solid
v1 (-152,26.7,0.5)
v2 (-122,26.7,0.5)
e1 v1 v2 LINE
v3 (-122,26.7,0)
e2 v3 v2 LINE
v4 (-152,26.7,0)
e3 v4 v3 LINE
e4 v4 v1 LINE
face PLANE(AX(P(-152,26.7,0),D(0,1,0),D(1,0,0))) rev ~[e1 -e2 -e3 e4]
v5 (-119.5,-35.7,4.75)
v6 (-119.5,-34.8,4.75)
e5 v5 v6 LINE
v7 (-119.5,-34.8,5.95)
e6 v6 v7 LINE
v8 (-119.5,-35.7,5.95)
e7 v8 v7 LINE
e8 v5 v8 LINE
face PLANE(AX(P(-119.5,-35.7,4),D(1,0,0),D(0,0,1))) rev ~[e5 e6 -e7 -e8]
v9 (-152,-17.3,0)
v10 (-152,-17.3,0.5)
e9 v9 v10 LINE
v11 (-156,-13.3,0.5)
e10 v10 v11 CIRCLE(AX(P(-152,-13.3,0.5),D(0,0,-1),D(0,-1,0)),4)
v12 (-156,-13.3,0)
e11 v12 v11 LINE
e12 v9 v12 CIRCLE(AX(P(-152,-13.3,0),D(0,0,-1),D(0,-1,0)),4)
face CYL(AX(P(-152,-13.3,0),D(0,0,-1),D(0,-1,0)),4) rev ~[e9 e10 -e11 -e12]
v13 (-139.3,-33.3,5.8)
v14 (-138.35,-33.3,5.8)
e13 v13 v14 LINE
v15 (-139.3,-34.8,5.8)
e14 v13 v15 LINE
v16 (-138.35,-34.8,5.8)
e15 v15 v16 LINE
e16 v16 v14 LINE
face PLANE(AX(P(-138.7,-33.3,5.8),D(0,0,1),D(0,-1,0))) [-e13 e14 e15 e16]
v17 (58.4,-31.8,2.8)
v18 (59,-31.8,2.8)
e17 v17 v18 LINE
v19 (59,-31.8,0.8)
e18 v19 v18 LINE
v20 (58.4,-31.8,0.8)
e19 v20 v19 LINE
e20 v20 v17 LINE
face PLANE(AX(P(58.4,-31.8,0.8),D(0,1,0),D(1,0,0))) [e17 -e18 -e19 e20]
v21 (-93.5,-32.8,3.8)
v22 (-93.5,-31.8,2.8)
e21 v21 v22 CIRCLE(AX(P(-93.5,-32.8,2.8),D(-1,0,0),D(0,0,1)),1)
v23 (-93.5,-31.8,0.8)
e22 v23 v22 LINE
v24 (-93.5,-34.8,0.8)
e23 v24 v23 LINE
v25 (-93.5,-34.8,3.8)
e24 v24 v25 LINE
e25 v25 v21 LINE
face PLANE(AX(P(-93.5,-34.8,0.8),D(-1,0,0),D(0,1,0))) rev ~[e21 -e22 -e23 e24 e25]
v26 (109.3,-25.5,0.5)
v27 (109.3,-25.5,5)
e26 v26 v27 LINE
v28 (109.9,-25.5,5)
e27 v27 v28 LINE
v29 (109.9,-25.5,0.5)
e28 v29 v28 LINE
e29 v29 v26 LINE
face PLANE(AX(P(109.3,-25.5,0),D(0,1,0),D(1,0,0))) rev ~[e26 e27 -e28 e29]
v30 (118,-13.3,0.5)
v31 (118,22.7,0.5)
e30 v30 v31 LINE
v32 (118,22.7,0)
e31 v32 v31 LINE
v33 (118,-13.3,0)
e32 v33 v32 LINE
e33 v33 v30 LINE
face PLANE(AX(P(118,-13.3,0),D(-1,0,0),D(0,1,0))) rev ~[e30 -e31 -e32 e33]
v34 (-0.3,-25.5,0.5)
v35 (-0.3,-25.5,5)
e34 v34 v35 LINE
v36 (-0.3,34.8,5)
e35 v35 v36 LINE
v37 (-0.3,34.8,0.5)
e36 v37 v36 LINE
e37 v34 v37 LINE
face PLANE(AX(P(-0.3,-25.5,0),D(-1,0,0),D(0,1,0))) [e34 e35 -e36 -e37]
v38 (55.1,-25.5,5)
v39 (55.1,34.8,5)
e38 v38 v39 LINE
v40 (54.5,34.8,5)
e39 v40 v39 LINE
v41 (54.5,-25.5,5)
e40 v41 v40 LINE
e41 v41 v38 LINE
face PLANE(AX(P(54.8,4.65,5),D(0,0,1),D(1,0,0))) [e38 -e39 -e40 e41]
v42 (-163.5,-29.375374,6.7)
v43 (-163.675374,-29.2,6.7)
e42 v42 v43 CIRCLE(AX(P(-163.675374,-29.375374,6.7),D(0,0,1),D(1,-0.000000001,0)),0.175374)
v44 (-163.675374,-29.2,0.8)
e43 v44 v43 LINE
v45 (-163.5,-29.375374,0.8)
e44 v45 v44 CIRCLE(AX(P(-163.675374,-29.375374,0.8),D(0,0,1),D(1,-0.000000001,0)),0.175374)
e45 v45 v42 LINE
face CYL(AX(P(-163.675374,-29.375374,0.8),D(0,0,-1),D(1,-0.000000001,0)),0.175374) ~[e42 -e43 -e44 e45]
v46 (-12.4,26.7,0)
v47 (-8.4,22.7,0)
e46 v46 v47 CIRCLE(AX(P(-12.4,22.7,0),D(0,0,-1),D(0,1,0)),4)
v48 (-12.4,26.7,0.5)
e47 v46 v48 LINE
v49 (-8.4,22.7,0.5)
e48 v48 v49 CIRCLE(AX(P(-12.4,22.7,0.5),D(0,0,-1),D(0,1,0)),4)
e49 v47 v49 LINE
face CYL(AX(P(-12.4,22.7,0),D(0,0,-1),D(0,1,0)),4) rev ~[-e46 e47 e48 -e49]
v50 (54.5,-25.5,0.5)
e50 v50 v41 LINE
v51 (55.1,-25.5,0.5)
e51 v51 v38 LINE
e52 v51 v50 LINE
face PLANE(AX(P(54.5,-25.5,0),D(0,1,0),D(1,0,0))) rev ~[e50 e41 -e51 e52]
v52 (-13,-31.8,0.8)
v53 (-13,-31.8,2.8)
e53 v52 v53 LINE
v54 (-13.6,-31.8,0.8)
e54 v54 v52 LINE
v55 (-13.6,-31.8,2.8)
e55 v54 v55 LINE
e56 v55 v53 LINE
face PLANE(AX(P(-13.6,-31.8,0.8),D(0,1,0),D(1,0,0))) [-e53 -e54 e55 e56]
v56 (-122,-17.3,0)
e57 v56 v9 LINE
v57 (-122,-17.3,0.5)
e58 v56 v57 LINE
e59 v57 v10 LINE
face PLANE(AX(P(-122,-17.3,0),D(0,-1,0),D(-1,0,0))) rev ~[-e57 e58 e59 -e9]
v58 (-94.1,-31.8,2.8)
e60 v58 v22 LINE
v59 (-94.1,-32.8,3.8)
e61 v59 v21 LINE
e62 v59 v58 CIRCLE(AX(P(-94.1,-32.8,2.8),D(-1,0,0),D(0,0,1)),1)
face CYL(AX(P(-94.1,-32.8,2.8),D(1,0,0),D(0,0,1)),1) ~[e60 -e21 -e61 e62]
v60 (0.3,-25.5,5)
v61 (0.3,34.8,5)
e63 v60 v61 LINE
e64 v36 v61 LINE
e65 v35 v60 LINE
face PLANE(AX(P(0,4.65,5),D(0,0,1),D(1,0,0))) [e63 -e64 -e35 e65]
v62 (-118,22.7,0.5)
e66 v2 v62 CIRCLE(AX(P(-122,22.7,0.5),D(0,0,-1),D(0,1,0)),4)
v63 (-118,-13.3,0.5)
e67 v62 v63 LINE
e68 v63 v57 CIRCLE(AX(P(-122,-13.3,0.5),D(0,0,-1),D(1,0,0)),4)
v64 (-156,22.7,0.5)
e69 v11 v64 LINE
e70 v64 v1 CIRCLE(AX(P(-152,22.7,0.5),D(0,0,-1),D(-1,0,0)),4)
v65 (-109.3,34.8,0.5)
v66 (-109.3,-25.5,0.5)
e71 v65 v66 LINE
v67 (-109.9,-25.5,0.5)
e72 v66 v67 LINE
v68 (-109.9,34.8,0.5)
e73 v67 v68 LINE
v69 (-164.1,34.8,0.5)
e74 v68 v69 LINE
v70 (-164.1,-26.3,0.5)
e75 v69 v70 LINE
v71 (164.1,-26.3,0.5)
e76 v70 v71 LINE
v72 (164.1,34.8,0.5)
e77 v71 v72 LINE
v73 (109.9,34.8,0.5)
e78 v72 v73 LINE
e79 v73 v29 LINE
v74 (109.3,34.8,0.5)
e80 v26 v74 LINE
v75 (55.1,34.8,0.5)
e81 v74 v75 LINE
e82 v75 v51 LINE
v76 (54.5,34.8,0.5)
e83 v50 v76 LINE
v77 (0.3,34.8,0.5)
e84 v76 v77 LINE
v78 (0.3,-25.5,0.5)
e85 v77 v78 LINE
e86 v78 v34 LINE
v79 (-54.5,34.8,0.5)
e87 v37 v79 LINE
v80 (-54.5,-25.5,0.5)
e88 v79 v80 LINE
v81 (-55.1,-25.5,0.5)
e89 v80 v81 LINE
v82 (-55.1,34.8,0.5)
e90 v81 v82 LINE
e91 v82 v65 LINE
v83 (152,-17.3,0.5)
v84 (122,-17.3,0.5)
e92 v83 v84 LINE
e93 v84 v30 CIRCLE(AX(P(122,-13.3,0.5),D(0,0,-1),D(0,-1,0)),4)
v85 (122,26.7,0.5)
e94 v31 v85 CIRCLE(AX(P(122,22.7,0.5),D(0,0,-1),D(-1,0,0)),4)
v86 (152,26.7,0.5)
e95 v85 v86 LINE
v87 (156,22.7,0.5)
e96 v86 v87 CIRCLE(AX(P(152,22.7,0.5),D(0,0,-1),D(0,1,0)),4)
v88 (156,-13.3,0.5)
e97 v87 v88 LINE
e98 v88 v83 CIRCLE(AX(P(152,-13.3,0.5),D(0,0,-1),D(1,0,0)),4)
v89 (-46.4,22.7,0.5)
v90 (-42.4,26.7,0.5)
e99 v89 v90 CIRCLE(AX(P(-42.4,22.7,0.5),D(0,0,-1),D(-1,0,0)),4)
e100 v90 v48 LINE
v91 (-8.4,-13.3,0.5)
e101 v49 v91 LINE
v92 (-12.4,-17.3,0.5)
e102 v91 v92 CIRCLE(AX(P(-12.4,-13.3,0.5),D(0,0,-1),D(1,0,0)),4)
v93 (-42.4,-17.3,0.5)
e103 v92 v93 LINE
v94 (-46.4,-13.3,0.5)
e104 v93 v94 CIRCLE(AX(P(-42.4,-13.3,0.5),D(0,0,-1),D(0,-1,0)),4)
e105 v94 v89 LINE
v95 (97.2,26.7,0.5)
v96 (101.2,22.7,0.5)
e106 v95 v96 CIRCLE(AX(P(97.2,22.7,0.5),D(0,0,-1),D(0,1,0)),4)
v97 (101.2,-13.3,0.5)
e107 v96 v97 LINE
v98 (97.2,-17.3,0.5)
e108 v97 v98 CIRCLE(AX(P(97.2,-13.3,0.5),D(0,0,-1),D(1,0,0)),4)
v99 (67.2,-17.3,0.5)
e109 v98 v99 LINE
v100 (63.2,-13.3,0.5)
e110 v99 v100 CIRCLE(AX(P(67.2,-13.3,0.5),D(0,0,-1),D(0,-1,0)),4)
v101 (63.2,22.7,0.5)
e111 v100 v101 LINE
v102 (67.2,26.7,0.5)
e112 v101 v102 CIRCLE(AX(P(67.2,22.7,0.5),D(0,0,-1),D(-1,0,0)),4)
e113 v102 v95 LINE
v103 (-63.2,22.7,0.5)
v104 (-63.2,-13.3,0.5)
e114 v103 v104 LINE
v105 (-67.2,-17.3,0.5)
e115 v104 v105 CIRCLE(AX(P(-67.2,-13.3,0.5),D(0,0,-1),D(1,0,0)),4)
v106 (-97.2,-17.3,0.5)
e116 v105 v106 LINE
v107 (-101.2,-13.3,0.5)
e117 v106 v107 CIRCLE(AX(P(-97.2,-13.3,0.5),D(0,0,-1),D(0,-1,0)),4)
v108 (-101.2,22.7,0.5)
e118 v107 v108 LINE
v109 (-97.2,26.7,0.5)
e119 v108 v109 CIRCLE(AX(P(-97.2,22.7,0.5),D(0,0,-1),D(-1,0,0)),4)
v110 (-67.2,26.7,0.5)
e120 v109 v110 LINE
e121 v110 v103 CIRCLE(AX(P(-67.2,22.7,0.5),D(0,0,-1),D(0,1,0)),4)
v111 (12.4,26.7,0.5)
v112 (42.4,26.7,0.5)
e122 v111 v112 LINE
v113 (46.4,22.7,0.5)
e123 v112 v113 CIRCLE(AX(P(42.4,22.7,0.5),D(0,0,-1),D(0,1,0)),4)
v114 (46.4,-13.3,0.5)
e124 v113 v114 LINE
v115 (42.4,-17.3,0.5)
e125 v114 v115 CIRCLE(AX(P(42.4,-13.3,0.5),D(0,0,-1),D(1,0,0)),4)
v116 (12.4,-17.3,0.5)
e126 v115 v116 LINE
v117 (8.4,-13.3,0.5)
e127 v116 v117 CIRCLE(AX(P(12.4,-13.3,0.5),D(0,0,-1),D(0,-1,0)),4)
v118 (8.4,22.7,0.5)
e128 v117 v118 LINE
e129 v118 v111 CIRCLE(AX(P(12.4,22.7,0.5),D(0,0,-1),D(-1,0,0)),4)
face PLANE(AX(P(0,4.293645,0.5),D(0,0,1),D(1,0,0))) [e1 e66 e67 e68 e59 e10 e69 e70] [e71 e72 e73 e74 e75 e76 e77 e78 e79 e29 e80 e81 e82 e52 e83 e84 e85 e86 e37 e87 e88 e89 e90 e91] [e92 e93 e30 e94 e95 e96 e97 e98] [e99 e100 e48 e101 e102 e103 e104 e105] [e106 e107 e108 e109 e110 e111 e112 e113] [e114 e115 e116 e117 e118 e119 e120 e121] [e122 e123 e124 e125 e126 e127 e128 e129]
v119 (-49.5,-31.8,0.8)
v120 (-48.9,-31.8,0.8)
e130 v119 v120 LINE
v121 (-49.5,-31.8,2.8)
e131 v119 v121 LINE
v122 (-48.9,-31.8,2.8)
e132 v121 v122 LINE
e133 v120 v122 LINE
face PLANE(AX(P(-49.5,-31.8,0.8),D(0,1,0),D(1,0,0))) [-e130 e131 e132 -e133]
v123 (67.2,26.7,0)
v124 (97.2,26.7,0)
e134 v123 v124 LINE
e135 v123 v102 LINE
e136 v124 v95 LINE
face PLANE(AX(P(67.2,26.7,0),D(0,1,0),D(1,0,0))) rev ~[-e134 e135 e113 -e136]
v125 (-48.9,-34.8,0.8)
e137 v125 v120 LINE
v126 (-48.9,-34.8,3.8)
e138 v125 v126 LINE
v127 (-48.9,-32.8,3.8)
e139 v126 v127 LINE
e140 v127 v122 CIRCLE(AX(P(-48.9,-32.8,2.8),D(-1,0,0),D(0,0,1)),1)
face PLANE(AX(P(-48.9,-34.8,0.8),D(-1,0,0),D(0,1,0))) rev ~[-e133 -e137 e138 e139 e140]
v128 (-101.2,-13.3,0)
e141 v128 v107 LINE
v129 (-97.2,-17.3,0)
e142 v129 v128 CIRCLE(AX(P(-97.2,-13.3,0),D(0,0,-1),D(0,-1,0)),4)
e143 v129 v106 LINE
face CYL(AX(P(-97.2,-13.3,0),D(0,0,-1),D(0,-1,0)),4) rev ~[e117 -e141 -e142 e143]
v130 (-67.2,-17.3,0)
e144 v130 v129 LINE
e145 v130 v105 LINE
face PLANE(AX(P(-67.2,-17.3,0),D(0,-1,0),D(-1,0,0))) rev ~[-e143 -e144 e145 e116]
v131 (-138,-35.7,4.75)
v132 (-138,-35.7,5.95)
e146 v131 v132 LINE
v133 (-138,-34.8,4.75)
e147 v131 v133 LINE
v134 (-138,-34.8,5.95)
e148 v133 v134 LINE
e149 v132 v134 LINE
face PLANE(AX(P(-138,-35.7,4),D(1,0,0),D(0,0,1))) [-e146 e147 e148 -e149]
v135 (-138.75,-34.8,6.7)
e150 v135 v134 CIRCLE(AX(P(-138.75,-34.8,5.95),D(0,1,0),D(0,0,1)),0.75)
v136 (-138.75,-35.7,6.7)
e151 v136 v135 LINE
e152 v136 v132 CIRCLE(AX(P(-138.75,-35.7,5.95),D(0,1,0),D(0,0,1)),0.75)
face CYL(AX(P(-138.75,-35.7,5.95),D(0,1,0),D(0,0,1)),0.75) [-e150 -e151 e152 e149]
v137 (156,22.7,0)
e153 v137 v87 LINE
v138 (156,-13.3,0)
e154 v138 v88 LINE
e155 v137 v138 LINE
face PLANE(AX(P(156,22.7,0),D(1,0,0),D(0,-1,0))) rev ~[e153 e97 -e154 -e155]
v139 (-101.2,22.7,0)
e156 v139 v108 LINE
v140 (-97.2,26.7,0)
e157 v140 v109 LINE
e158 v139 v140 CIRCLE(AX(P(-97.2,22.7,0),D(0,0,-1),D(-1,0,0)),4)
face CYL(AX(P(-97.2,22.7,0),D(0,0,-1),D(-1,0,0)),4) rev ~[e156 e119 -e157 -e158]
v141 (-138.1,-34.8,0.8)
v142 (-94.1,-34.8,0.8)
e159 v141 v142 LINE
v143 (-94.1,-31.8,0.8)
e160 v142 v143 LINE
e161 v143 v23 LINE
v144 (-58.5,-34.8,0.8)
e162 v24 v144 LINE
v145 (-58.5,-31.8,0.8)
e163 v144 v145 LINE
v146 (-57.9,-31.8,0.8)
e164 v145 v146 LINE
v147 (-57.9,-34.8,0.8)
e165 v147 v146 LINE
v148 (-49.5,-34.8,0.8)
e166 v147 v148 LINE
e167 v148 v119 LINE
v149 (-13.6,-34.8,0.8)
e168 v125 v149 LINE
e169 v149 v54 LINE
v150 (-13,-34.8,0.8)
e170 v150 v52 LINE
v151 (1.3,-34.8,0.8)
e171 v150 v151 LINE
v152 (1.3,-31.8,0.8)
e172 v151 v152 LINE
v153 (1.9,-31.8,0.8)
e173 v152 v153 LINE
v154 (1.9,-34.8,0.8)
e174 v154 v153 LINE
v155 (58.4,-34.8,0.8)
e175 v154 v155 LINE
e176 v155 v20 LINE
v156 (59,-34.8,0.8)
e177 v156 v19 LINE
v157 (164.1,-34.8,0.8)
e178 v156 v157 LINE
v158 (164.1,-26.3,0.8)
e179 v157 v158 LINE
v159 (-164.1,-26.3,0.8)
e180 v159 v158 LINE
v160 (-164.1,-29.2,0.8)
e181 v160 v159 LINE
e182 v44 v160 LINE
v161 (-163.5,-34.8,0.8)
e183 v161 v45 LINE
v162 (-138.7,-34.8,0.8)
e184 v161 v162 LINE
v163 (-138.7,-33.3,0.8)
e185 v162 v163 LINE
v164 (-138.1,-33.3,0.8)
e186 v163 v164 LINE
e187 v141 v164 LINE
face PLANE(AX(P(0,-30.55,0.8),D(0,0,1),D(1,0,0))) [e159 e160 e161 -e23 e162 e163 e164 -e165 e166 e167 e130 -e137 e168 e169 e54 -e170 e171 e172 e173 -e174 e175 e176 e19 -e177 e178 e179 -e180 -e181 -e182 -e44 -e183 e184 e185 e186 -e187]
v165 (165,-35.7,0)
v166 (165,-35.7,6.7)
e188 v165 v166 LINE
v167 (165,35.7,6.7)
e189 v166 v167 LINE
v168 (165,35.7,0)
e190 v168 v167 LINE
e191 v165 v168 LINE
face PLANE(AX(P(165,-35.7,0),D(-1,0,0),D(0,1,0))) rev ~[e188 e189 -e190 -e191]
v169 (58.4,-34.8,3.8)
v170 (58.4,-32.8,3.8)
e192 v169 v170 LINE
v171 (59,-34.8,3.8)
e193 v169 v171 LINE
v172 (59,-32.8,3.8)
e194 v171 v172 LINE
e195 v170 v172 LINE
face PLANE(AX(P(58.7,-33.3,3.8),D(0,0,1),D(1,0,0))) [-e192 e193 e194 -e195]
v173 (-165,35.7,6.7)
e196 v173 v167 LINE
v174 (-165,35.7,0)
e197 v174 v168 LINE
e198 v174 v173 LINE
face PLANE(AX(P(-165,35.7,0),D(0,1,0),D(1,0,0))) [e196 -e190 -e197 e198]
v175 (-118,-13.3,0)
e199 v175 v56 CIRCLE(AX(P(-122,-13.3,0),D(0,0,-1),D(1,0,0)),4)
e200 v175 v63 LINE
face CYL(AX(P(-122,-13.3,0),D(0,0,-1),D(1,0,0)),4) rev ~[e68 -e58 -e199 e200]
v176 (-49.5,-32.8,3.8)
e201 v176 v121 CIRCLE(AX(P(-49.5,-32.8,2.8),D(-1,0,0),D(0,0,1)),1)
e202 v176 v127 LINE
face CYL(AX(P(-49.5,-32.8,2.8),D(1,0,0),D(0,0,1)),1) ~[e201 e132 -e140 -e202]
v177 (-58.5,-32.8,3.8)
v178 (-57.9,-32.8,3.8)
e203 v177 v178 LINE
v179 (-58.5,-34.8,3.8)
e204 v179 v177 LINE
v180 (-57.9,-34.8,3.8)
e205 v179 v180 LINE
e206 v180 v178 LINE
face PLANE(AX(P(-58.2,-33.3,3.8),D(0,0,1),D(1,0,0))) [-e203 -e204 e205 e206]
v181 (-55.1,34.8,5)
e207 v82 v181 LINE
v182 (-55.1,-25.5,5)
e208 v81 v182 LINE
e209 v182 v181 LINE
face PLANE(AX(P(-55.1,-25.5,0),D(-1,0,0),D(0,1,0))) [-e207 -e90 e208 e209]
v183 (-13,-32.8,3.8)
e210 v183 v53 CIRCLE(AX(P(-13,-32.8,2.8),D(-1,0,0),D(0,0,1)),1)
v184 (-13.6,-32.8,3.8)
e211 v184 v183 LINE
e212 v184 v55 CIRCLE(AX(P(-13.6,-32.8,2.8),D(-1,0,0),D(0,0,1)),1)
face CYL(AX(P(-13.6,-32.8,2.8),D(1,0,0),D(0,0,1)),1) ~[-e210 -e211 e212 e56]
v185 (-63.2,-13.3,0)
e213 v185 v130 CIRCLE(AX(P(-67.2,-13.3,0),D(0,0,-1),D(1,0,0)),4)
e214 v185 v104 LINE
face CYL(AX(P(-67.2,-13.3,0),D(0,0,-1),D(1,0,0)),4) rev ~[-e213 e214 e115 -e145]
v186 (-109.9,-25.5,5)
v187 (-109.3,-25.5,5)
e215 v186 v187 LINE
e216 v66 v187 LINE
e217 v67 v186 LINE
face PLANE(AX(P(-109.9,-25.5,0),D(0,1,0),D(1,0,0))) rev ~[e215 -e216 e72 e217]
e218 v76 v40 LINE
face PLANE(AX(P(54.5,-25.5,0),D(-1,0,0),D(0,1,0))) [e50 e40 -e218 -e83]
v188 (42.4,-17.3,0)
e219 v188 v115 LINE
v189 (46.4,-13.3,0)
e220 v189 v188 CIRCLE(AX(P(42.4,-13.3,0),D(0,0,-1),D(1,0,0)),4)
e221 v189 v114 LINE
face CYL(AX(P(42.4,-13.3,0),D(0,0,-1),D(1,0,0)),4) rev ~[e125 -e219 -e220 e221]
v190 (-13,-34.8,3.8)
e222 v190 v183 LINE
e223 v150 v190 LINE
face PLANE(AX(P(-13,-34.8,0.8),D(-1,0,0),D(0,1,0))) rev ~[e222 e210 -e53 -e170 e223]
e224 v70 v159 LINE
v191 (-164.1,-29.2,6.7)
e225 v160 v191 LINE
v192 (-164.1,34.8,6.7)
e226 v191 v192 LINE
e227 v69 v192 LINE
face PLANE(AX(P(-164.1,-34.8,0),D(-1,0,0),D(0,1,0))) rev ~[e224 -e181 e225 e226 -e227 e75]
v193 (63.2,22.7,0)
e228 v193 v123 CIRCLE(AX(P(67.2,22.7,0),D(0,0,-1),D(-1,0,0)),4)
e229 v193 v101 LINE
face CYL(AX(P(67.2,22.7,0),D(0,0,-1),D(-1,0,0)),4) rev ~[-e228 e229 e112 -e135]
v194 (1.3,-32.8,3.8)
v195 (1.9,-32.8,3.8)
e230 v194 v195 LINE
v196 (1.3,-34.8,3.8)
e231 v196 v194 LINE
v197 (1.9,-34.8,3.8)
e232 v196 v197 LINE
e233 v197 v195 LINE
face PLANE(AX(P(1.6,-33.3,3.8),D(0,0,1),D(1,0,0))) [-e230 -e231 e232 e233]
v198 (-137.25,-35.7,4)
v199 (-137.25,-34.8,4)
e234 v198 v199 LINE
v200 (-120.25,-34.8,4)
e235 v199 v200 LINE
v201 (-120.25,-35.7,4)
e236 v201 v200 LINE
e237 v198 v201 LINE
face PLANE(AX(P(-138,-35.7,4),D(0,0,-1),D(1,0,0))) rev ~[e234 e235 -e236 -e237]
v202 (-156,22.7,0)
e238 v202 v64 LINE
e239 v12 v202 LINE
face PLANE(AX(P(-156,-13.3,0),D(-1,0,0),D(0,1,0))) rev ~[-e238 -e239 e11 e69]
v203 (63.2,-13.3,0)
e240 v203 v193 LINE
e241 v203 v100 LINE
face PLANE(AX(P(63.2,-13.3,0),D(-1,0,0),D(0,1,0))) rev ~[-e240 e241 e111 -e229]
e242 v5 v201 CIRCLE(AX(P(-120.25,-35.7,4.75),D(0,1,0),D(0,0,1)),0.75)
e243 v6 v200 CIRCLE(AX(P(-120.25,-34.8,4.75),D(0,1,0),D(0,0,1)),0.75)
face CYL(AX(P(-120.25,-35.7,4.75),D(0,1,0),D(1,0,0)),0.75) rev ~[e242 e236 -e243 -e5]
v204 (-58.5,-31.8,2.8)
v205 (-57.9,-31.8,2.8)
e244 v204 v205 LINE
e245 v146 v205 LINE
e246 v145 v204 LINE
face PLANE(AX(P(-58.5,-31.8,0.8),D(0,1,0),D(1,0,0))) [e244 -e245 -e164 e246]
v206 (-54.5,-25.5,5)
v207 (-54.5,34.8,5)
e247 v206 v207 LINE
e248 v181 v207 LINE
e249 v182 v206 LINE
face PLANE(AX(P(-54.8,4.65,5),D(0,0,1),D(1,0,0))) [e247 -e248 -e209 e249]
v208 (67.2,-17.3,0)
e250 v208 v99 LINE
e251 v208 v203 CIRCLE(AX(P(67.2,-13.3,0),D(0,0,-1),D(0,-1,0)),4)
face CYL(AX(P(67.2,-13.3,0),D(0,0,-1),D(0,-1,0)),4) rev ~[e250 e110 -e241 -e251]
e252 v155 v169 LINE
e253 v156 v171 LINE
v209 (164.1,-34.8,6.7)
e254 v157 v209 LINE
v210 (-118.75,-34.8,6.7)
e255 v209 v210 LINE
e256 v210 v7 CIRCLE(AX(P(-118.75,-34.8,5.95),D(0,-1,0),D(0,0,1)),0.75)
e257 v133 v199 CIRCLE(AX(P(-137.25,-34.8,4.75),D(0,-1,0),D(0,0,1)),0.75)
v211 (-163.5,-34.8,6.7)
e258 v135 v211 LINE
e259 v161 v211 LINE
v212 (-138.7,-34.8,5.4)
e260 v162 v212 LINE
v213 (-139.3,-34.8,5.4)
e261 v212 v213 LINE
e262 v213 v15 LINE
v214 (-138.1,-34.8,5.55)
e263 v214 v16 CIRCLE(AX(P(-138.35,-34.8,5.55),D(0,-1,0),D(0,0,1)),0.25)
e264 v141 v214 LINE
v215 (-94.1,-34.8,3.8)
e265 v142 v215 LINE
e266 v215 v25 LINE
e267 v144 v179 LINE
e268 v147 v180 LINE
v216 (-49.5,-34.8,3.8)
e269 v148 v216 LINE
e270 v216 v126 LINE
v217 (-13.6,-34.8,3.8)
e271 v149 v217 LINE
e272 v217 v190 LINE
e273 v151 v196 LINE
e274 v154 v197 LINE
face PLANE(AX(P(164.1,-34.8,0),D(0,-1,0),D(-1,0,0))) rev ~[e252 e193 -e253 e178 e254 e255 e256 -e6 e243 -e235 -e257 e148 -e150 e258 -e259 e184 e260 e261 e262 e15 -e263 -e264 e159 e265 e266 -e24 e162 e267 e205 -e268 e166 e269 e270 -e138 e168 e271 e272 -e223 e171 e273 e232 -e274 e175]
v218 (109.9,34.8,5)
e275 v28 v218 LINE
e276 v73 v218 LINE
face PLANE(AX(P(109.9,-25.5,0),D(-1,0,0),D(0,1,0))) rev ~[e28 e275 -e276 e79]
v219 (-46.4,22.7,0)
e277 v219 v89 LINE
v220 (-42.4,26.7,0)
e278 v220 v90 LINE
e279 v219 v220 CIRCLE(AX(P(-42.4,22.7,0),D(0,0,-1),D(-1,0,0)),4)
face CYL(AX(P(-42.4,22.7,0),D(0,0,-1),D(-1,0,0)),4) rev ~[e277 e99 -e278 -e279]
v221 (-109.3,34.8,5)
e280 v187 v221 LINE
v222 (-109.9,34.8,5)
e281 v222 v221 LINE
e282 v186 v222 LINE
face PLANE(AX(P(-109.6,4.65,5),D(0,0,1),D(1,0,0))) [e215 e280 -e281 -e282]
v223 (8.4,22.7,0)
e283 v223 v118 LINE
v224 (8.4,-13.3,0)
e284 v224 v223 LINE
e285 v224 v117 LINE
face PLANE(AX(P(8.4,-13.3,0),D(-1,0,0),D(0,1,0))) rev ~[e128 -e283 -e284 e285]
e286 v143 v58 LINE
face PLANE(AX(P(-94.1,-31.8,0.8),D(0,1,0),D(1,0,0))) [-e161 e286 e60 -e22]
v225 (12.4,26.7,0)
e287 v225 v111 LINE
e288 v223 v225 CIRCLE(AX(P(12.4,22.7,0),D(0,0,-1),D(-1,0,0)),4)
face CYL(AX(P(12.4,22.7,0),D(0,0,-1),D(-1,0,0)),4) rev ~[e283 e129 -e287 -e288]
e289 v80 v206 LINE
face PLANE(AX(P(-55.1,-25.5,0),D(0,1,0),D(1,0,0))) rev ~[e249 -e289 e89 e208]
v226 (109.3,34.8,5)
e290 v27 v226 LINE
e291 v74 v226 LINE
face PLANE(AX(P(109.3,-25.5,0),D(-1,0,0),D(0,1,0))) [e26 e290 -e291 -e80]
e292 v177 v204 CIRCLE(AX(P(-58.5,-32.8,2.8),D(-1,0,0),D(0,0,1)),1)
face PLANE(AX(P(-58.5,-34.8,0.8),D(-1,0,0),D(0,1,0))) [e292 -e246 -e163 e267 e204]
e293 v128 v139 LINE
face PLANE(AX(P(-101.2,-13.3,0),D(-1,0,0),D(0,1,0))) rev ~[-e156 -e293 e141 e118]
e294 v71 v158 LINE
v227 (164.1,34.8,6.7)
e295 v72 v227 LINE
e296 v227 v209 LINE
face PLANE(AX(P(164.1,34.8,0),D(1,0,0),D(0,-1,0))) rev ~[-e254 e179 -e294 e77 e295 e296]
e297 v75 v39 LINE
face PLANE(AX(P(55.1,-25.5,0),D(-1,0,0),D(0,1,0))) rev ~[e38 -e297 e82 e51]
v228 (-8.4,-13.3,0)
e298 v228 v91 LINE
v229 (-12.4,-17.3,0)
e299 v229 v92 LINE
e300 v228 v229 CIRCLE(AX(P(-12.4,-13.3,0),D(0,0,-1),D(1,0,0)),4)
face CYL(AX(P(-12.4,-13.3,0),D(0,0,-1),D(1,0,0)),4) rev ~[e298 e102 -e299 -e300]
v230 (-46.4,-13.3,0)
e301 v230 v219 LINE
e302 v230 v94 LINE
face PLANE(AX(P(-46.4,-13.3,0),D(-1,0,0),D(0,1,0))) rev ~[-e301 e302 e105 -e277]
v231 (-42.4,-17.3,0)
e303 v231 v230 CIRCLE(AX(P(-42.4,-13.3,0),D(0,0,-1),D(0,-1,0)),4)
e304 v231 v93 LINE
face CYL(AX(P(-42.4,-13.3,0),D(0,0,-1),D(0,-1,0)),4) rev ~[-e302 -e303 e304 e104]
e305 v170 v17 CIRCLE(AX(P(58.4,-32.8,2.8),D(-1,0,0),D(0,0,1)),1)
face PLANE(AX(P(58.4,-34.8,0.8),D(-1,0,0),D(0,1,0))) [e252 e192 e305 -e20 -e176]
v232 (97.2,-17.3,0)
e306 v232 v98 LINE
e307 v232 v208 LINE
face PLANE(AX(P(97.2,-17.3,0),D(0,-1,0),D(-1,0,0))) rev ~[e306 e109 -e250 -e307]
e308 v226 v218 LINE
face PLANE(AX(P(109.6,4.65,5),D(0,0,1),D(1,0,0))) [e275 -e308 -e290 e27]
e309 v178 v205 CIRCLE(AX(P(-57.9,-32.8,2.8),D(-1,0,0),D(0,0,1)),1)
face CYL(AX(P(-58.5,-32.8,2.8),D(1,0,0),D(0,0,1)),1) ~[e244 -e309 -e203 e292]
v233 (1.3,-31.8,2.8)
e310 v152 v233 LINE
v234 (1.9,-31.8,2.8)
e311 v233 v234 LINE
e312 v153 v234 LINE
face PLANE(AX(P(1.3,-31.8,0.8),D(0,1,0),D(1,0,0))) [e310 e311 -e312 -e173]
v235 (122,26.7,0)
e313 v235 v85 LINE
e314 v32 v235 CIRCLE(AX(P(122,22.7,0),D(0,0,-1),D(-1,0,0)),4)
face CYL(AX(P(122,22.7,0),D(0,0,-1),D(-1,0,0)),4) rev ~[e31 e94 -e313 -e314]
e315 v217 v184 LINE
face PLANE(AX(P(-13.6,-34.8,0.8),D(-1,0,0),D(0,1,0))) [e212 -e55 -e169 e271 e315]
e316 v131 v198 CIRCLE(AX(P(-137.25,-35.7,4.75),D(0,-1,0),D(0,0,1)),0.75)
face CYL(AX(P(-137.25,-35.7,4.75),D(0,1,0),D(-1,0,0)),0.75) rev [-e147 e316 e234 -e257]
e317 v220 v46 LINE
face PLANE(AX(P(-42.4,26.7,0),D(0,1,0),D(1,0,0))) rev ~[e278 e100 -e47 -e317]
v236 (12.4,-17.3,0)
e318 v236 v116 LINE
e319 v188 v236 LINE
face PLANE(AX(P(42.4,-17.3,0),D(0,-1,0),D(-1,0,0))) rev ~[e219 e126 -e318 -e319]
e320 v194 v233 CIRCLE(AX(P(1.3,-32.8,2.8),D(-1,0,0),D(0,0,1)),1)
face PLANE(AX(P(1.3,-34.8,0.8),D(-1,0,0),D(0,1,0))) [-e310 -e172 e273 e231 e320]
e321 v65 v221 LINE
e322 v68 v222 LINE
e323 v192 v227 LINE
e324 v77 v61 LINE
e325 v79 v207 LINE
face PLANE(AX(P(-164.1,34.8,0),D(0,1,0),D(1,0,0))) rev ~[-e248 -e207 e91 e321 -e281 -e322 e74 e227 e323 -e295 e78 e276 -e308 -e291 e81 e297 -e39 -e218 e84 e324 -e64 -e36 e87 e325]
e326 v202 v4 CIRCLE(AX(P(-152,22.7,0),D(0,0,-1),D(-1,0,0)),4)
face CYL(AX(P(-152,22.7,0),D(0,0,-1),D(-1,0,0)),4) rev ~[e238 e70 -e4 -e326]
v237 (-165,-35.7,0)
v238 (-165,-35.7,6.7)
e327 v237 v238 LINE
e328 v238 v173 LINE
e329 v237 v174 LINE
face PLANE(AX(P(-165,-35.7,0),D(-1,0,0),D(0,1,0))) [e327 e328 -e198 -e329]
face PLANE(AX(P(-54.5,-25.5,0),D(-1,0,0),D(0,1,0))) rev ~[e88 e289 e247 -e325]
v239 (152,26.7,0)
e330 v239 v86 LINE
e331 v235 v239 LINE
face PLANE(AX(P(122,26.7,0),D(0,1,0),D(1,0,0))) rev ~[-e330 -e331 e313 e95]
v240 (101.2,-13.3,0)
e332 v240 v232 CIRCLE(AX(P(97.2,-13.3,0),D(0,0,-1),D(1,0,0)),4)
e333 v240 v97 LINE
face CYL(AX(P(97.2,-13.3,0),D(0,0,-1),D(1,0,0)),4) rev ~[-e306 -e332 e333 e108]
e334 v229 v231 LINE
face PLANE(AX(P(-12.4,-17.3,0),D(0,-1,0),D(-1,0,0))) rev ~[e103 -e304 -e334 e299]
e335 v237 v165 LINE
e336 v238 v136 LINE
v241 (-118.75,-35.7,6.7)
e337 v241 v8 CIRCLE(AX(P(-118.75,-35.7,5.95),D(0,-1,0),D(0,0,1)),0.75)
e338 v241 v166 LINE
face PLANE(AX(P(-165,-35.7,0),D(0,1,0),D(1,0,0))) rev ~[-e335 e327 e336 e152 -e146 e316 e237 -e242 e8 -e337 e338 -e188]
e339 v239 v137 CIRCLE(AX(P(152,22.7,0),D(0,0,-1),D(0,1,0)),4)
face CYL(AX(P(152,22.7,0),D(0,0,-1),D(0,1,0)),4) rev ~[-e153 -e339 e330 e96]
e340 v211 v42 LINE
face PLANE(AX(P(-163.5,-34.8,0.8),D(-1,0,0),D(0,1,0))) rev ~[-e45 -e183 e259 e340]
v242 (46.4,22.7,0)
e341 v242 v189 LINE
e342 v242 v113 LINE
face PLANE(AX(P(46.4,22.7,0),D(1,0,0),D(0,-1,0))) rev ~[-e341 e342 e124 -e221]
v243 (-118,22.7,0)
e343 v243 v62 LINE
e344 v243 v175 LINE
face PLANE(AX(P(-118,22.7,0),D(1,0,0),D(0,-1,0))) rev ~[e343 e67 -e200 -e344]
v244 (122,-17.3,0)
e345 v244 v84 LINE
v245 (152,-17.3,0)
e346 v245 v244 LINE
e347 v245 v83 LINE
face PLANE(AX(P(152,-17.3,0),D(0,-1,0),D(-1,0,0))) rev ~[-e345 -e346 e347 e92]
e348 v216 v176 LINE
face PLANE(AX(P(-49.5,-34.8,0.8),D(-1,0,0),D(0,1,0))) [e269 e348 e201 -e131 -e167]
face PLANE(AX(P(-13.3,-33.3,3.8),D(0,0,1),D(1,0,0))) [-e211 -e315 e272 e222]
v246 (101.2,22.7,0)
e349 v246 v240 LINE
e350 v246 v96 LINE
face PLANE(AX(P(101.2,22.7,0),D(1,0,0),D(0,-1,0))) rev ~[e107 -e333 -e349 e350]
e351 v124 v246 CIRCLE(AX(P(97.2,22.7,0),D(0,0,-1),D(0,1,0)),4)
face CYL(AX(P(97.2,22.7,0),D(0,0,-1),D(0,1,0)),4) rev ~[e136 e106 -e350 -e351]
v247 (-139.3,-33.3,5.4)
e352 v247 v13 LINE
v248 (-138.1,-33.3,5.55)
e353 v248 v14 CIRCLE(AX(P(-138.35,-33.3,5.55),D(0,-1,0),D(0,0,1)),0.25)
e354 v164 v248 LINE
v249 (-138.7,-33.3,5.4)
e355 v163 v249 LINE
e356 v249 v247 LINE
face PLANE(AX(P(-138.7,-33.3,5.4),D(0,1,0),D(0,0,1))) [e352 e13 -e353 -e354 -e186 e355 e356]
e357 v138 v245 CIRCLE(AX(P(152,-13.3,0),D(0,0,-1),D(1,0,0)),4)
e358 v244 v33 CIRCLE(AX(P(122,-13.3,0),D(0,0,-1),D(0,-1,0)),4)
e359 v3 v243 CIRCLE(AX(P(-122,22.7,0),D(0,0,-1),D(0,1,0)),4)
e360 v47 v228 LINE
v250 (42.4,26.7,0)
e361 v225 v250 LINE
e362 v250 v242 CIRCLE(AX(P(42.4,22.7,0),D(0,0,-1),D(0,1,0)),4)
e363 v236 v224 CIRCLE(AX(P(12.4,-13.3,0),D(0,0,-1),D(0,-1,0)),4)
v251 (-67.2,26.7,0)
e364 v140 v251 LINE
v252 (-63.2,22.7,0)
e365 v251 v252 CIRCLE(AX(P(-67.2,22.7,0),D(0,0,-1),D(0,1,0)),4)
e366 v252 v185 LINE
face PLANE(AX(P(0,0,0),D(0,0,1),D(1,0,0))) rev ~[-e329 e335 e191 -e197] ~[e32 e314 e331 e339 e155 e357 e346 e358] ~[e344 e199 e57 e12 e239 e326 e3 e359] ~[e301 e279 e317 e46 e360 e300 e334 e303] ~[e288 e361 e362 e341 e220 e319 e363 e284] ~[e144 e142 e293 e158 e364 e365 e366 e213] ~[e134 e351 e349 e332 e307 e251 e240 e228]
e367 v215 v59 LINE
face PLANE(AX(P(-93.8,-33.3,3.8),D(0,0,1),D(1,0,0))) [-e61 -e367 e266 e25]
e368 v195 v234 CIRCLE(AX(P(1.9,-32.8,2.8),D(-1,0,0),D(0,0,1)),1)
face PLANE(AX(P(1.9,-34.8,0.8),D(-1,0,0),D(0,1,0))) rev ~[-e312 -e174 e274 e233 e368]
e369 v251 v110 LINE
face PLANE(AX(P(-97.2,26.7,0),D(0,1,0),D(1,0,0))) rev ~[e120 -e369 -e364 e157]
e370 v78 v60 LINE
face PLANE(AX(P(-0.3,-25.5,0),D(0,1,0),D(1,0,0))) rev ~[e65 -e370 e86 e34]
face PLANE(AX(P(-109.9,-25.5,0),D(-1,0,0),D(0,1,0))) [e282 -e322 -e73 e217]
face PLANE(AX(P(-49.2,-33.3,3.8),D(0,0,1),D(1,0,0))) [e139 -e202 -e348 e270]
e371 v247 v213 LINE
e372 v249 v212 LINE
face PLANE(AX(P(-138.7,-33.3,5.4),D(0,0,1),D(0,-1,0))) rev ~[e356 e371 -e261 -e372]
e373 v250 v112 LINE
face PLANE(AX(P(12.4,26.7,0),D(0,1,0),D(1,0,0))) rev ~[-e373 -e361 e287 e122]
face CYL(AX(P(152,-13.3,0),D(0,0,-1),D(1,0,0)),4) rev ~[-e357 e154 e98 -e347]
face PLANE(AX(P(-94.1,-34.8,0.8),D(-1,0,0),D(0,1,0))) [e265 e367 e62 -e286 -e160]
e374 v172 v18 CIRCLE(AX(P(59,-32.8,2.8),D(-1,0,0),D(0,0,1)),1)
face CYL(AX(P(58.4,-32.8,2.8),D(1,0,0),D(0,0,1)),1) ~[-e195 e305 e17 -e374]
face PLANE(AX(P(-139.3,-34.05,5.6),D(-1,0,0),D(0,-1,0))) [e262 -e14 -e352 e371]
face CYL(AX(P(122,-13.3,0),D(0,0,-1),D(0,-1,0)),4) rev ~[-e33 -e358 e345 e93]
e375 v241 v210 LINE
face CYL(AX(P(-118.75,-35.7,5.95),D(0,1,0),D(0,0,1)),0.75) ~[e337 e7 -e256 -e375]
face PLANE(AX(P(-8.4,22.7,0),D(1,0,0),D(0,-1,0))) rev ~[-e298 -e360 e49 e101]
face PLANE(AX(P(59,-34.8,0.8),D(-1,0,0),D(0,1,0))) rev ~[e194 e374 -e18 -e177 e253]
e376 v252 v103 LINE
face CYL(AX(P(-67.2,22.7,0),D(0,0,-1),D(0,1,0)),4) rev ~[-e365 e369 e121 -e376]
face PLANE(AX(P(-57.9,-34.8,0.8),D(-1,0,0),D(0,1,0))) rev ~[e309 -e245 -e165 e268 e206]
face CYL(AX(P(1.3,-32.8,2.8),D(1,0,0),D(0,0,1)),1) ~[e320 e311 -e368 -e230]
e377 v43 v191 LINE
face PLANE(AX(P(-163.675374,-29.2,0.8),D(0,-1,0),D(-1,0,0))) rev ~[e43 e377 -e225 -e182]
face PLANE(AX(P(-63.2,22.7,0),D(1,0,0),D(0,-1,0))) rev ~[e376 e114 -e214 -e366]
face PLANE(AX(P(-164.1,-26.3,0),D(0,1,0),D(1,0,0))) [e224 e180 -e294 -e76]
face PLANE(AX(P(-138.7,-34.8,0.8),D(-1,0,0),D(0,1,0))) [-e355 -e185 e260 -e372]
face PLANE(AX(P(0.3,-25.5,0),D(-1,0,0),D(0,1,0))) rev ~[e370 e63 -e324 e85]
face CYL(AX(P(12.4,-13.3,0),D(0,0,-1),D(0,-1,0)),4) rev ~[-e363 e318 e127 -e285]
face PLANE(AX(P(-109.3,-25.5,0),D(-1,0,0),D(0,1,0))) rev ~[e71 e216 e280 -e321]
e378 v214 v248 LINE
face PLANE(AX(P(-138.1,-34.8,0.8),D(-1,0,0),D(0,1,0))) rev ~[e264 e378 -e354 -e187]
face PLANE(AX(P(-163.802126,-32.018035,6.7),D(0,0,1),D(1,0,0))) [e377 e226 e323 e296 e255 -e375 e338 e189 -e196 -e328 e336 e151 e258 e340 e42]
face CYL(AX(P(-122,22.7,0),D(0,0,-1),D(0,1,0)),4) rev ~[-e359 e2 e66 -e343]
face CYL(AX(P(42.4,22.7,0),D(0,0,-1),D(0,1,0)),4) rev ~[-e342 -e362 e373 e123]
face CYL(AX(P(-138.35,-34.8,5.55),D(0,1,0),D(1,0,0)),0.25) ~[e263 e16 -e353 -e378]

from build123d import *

# Parameters (mm, degrees)
F1_DEPTH  = 0.5
F0_W      = 328.2
F0_H      = 8.5
F2_DEPTH  = 0.8
F0_W_2    = 330
F0_H_2    = 71.4
F3_DEPTH  = 6.7
F0_W_3    = 0.6
F0_H_3    = 60.3
F4_DEPTH  = 5
F6_DEPTH  = 5.9
F7_W      = 18.5
F7_H      = 2.7
F8_DEPTH  = 0.9
F9_R      = 0.75
F10_W     = 0.6
F10_H     = 1.5
F11_DEPTH = 5
F10_H_2   = 3
F12_DEPTH = 3
F13_R     = 1
F14_W     = 1.5
F14_H     = 0.4
F15_DEPTH = 0.6
F16_R     = 0.25


with BuildPart() as f1:
    # F0 (on Top) → F1 (new body)
    with BuildSketch(Plane.XY):
        Polygon((-164.1, 34.8), (-164.1, -26.3), (164.1, -26.3), (164.1, 34.8), (109.9, 34.8), (109.9, -25.5), (109.3, -25.5), (109.3, 34.8), (55.1, 34.8), (55.1, -25.5), (54.5, -25.5), (54.5, 34.8), (0.3, 34.8), (0.3, -25.5), (-0.3, -25.5), (-0.3, 34.8), (-54.5, 34.8), (-54.5, -25.5), (-55.1, -25.5), (-55.1, 34.8), (-109.3, 34.8), (-109.3, -25.5), (-109.9, -25.5), (-109.9, 34.8), align=None)
        with BuildLine():
            ThreePointArc((-156, 22.7), (-154.8284271247, 25.5284271247), (-152, 26.7))
            Line((-152, 26.7), (-122, 26.7))
            ThreePointArc((-122, 26.7), (-119.1715728753, 25.5284271247), (-118, 22.7))
            Line((-118, 22.7), (-118, -13.3))
            ThreePointArc((-118, -13.3), (-119.1715728753, -16.1284271247), (-122, -17.3))
            Line((-122, -17.3), (-152, -17.3))
            ThreePointArc((-152, -17.3), (-154.8284271247, -16.1284271247), (-156, -13.3))
            Line((-156, -13.3), (-156, 22.7))
        make_face(mode=Mode.SUBTRACT)
        with BuildLine():
            ThreePointArc((-67.2, 26.7), (-64.3715728753, 25.5284271247), (-63.2, 22.7))
            Line((-63.2, 22.7), (-63.2, -13.3))
            ThreePointArc((-63.2, -13.3), (-64.3715728753, -16.1284271247), (-67.2, -17.3))
            Line((-67.2, -17.3), (-97.2, -17.3))
            ThreePointArc((-97.2, -17.3), (-100.0284271247, -16.1284271247), (-101.2, -13.3))
            Line((-101.2, -13.3), (-101.2, 22.7))
            ThreePointArc((-101.2, 22.7), (-100.0284271247, 25.5284271247), (-97.2, 26.7))
            Line((-97.2, 26.7), (-67.2, 26.7))
        make_face(mode=Mode.SUBTRACT)
        with BuildLine():
            ThreePointArc((-12.4, 26.7), (-9.5715728753, 25.5284271247), (-8.4, 22.7))
            Line((-8.4, 22.7), (-8.4, -13.3))
            ThreePointArc((-8.4, -13.3), (-9.5715728753, -16.1284271247), (-12.4, -17.3))
            Line((-12.4, -17.3), (-42.4, -17.3))
            ThreePointArc((-42.4, -17.3), (-45.2284271247, -16.1284271247), (-46.4, -13.3))
            Line((-46.4, -13.3), (-46.4, 22.7))
            ThreePointArc((-46.4, 22.7), (-45.2284271247, 25.5284271247), (-42.4, 26.7))
            Line((-42.4, 26.7), (-12.4, 26.7))
        make_face(mode=Mode.SUBTRACT)
        with BuildLine():
            ThreePointArc((42.4, 26.7), (45.2284271247, 25.5284271247), (46.4, 22.7))
            Line((46.4, 22.7), (46.4, -13.3))
            ThreePointArc((46.4, -13.3), (45.2284271247, -16.1284271247), (42.4, -17.3))
            Line((42.4, -17.3), (12.4, -17.3))
            ThreePointArc((12.4, -17.3), (9.5715728753, -16.1284271247), (8.4, -13.3))
            Line((8.4, -13.3), (8.4, 22.7))
            ThreePointArc((8.4, 22.7), (9.5715728753, 25.5284271247), (12.4, 26.7))
            Line((12.4, 26.7), (42.4, 26.7))
        make_face(mode=Mode.SUBTRACT)
        with BuildLine():
            ThreePointArc((97.2, 26.7), (100.0284271247, 25.5284271247), (101.2, 22.7))
            Line((101.2, 22.7), (101.2, -13.3))
            ThreePointArc((101.2, -13.3), (100.0284271247, -16.1284271247), (97.2, -17.3))
            Line((97.2, -17.3), (67.2, -17.3))
            ThreePointArc((67.2, -17.3), (64.3715728753, -16.1284271247), (63.2, -13.3))
            Line((63.2, -13.3), (63.2, 22.7))
            ThreePointArc((63.2, 22.7), (64.3715728753, 25.5284271247), (67.2, 26.7))
            Line((67.2, 26.7), (97.2, 26.7))
        make_face(mode=Mode.SUBTRACT)
        with BuildLine():
            ThreePointArc((152, 26.7), (154.8284271247, 25.5284271247), (156, 22.7))
            Line((156, 22.7), (156, -13.3))
            ThreePointArc((156, -13.3), (154.8284271247, -16.1284271247), (152, -17.3))
            Line((152, -17.3), (122, -17.3))
            ThreePointArc((122, -17.3), (119.1715728753, -16.1284271247), (118, -13.3))
            Line((118, -13.3), (118, 22.7))
            ThreePointArc((118, 22.7), (119.1715728753, 25.5284271247), (122, 26.7))
            Line((122, 26.7), (152, 26.7))
        make_face(mode=Mode.SUBTRACT)
    extrude(amount=F1_DEPTH)

    # F0 (on Top) → F2 (join)
    with BuildSketch(Plane.XY):
        with Locations((0, -30.55)):
            Rectangle(F0_W, F0_H)
    extrude(amount=F2_DEPTH)

    # F0 (on Top) → F3 (join)
    with BuildSketch(Plane.XY):
        Rectangle(F0_W_2, F0_H_2)
        Polygon((164.1, -34.8), (-164.1, -34.8), (-164.1, -26.3), (-164.1, 34.8), (-109.9, 34.8), (-109.3, 34.8), (-55.1, 34.8), (-54.5, 34.8), (-0.3, 34.8), (0.3, 34.8), (54.5, 34.8), (55.1, 34.8), (109.3, 34.8), (109.9, 34.8), (164.1, 34.8), (164.1, -26.3), align=None, mode=Mode.SUBTRACT)
    extrude(amount=F3_DEPTH)

    # F0 (on Top) → F4 (join)
    with BuildSketch(Plane.XY):
        with Locations((-109.6, 4.65)):
            Rectangle(F0_W_3, F0_H_3)
        with Locations((-54.8, 4.65)):
            Rectangle(F0_W_3, F0_H_3)
        with Locations((0, 4.65)):
            Rectangle(F0_W_3, F0_H_3)
        with Locations((54.8, 4.65)):
            Rectangle(F0_W_3, F0_H_3)
        with Locations((109.6, 4.65)):
            Rectangle(F0_W_3, F0_H_3)
    extrude(amount=F4_DEPTH)

    # F5 (on face) → F6 (join, through all)
    with BuildSketch(Plane.XY.offset(0.8)):
        with BuildLine():
            Line((-163.6753737487, -29.2), (-164.1, -29.2))
            Line((-164.1, -29.2), (-164.1, -34.8))
            Line((-164.1, -34.8), (-163.5, -34.8))
            Line((-163.5, -34.8), (-163.5, -29.3753737487))
            ThreePointArc((-163.5, -29.3753737487), (-163.5513657817, -29.2513657817), (-163.6753737487, -29.2))
        make_face()
    extrude(amount=F6_DEPTH)

    # F7 (on face) → F8 (cut, through all)
    with BuildSketch(Plane.XZ.offset(35.7)):
        with Locations((-128.75, 5.35)):
            Rectangle(F7_W, F7_H)
    extrude(amount=-F8_DEPTH, mode=Mode.SUBTRACT)

    # F9
    f9_edges = [f1.edges().sort_by_distance(p)[0] for p in [
        (-138, -35.25, 6.7),
        (-119.5, -35.25, 6.7),
        (-138, -35.25, 4),
        (-119.5, -35.25, 4),
    ]]
    fillet(f9_edges, radius=F9_R)

    # F10 (on face) → F11 (join)
    with BuildSketch(Plane.XY.offset(0.8)):
        with Locations((-138.4, -34.05)):
            Rectangle(F10_W, F10_H)
    extrude(amount=F11_DEPTH)

    # F10 (on face) → F12 (join)
    with BuildSketch(Plane.XY.offset(0.8)):
        with Locations((-93.8, -33.3)):
            Rectangle(F10_W, F10_H_2)
        with Locations((-58.2, -33.3)):
            Rectangle(F10_W, F10_H_2)
        with Locations((-49.2, -33.3)):
            Rectangle(F10_W, F10_H_2)
        with Locations((-13.3, -33.3)):
            Rectangle(F10_W, F10_H_2)
        with Locations((1.6, -33.3)):
            Rectangle(F10_W, F10_H_2)
        with Locations((58.7, -33.3)):
            Rectangle(F10_W, F10_H_2)
    extrude(amount=F12_DEPTH)

    # F13
    f13_edges = [f1.edges().sort_by_distance(p)[0] for p in [
        (58.7, -31.8, 3.8),
        (1.6, -31.8, 3.8),
        (-13.3, -31.8, 3.8),
        (-49.2, -31.8, 3.8),
        (-58.2, -31.8, 3.8),
        (-93.8, -31.8, 3.8),
    ]]
    fillet(f13_edges, radius=F13_R)

    # F14 (on face) → F15 (join)
    with BuildSketch(Plane(origin=(-138.7, 0, 0), x_dir=(0, -1, 0), z_dir=(-1, 0, 0))):
        with Locations((34.05, 5.6)):
            Rectangle(F14_W, F14_H)
    extrude(amount=F15_DEPTH)

    # F16
    f16_edges = [f1.edges().sort_by_distance(p)[0] for p in [
        (-138.1, -34.05, 5.8),
    ]]
    fillet(f16_edges, radius=F16_R)


solid = f1.part
